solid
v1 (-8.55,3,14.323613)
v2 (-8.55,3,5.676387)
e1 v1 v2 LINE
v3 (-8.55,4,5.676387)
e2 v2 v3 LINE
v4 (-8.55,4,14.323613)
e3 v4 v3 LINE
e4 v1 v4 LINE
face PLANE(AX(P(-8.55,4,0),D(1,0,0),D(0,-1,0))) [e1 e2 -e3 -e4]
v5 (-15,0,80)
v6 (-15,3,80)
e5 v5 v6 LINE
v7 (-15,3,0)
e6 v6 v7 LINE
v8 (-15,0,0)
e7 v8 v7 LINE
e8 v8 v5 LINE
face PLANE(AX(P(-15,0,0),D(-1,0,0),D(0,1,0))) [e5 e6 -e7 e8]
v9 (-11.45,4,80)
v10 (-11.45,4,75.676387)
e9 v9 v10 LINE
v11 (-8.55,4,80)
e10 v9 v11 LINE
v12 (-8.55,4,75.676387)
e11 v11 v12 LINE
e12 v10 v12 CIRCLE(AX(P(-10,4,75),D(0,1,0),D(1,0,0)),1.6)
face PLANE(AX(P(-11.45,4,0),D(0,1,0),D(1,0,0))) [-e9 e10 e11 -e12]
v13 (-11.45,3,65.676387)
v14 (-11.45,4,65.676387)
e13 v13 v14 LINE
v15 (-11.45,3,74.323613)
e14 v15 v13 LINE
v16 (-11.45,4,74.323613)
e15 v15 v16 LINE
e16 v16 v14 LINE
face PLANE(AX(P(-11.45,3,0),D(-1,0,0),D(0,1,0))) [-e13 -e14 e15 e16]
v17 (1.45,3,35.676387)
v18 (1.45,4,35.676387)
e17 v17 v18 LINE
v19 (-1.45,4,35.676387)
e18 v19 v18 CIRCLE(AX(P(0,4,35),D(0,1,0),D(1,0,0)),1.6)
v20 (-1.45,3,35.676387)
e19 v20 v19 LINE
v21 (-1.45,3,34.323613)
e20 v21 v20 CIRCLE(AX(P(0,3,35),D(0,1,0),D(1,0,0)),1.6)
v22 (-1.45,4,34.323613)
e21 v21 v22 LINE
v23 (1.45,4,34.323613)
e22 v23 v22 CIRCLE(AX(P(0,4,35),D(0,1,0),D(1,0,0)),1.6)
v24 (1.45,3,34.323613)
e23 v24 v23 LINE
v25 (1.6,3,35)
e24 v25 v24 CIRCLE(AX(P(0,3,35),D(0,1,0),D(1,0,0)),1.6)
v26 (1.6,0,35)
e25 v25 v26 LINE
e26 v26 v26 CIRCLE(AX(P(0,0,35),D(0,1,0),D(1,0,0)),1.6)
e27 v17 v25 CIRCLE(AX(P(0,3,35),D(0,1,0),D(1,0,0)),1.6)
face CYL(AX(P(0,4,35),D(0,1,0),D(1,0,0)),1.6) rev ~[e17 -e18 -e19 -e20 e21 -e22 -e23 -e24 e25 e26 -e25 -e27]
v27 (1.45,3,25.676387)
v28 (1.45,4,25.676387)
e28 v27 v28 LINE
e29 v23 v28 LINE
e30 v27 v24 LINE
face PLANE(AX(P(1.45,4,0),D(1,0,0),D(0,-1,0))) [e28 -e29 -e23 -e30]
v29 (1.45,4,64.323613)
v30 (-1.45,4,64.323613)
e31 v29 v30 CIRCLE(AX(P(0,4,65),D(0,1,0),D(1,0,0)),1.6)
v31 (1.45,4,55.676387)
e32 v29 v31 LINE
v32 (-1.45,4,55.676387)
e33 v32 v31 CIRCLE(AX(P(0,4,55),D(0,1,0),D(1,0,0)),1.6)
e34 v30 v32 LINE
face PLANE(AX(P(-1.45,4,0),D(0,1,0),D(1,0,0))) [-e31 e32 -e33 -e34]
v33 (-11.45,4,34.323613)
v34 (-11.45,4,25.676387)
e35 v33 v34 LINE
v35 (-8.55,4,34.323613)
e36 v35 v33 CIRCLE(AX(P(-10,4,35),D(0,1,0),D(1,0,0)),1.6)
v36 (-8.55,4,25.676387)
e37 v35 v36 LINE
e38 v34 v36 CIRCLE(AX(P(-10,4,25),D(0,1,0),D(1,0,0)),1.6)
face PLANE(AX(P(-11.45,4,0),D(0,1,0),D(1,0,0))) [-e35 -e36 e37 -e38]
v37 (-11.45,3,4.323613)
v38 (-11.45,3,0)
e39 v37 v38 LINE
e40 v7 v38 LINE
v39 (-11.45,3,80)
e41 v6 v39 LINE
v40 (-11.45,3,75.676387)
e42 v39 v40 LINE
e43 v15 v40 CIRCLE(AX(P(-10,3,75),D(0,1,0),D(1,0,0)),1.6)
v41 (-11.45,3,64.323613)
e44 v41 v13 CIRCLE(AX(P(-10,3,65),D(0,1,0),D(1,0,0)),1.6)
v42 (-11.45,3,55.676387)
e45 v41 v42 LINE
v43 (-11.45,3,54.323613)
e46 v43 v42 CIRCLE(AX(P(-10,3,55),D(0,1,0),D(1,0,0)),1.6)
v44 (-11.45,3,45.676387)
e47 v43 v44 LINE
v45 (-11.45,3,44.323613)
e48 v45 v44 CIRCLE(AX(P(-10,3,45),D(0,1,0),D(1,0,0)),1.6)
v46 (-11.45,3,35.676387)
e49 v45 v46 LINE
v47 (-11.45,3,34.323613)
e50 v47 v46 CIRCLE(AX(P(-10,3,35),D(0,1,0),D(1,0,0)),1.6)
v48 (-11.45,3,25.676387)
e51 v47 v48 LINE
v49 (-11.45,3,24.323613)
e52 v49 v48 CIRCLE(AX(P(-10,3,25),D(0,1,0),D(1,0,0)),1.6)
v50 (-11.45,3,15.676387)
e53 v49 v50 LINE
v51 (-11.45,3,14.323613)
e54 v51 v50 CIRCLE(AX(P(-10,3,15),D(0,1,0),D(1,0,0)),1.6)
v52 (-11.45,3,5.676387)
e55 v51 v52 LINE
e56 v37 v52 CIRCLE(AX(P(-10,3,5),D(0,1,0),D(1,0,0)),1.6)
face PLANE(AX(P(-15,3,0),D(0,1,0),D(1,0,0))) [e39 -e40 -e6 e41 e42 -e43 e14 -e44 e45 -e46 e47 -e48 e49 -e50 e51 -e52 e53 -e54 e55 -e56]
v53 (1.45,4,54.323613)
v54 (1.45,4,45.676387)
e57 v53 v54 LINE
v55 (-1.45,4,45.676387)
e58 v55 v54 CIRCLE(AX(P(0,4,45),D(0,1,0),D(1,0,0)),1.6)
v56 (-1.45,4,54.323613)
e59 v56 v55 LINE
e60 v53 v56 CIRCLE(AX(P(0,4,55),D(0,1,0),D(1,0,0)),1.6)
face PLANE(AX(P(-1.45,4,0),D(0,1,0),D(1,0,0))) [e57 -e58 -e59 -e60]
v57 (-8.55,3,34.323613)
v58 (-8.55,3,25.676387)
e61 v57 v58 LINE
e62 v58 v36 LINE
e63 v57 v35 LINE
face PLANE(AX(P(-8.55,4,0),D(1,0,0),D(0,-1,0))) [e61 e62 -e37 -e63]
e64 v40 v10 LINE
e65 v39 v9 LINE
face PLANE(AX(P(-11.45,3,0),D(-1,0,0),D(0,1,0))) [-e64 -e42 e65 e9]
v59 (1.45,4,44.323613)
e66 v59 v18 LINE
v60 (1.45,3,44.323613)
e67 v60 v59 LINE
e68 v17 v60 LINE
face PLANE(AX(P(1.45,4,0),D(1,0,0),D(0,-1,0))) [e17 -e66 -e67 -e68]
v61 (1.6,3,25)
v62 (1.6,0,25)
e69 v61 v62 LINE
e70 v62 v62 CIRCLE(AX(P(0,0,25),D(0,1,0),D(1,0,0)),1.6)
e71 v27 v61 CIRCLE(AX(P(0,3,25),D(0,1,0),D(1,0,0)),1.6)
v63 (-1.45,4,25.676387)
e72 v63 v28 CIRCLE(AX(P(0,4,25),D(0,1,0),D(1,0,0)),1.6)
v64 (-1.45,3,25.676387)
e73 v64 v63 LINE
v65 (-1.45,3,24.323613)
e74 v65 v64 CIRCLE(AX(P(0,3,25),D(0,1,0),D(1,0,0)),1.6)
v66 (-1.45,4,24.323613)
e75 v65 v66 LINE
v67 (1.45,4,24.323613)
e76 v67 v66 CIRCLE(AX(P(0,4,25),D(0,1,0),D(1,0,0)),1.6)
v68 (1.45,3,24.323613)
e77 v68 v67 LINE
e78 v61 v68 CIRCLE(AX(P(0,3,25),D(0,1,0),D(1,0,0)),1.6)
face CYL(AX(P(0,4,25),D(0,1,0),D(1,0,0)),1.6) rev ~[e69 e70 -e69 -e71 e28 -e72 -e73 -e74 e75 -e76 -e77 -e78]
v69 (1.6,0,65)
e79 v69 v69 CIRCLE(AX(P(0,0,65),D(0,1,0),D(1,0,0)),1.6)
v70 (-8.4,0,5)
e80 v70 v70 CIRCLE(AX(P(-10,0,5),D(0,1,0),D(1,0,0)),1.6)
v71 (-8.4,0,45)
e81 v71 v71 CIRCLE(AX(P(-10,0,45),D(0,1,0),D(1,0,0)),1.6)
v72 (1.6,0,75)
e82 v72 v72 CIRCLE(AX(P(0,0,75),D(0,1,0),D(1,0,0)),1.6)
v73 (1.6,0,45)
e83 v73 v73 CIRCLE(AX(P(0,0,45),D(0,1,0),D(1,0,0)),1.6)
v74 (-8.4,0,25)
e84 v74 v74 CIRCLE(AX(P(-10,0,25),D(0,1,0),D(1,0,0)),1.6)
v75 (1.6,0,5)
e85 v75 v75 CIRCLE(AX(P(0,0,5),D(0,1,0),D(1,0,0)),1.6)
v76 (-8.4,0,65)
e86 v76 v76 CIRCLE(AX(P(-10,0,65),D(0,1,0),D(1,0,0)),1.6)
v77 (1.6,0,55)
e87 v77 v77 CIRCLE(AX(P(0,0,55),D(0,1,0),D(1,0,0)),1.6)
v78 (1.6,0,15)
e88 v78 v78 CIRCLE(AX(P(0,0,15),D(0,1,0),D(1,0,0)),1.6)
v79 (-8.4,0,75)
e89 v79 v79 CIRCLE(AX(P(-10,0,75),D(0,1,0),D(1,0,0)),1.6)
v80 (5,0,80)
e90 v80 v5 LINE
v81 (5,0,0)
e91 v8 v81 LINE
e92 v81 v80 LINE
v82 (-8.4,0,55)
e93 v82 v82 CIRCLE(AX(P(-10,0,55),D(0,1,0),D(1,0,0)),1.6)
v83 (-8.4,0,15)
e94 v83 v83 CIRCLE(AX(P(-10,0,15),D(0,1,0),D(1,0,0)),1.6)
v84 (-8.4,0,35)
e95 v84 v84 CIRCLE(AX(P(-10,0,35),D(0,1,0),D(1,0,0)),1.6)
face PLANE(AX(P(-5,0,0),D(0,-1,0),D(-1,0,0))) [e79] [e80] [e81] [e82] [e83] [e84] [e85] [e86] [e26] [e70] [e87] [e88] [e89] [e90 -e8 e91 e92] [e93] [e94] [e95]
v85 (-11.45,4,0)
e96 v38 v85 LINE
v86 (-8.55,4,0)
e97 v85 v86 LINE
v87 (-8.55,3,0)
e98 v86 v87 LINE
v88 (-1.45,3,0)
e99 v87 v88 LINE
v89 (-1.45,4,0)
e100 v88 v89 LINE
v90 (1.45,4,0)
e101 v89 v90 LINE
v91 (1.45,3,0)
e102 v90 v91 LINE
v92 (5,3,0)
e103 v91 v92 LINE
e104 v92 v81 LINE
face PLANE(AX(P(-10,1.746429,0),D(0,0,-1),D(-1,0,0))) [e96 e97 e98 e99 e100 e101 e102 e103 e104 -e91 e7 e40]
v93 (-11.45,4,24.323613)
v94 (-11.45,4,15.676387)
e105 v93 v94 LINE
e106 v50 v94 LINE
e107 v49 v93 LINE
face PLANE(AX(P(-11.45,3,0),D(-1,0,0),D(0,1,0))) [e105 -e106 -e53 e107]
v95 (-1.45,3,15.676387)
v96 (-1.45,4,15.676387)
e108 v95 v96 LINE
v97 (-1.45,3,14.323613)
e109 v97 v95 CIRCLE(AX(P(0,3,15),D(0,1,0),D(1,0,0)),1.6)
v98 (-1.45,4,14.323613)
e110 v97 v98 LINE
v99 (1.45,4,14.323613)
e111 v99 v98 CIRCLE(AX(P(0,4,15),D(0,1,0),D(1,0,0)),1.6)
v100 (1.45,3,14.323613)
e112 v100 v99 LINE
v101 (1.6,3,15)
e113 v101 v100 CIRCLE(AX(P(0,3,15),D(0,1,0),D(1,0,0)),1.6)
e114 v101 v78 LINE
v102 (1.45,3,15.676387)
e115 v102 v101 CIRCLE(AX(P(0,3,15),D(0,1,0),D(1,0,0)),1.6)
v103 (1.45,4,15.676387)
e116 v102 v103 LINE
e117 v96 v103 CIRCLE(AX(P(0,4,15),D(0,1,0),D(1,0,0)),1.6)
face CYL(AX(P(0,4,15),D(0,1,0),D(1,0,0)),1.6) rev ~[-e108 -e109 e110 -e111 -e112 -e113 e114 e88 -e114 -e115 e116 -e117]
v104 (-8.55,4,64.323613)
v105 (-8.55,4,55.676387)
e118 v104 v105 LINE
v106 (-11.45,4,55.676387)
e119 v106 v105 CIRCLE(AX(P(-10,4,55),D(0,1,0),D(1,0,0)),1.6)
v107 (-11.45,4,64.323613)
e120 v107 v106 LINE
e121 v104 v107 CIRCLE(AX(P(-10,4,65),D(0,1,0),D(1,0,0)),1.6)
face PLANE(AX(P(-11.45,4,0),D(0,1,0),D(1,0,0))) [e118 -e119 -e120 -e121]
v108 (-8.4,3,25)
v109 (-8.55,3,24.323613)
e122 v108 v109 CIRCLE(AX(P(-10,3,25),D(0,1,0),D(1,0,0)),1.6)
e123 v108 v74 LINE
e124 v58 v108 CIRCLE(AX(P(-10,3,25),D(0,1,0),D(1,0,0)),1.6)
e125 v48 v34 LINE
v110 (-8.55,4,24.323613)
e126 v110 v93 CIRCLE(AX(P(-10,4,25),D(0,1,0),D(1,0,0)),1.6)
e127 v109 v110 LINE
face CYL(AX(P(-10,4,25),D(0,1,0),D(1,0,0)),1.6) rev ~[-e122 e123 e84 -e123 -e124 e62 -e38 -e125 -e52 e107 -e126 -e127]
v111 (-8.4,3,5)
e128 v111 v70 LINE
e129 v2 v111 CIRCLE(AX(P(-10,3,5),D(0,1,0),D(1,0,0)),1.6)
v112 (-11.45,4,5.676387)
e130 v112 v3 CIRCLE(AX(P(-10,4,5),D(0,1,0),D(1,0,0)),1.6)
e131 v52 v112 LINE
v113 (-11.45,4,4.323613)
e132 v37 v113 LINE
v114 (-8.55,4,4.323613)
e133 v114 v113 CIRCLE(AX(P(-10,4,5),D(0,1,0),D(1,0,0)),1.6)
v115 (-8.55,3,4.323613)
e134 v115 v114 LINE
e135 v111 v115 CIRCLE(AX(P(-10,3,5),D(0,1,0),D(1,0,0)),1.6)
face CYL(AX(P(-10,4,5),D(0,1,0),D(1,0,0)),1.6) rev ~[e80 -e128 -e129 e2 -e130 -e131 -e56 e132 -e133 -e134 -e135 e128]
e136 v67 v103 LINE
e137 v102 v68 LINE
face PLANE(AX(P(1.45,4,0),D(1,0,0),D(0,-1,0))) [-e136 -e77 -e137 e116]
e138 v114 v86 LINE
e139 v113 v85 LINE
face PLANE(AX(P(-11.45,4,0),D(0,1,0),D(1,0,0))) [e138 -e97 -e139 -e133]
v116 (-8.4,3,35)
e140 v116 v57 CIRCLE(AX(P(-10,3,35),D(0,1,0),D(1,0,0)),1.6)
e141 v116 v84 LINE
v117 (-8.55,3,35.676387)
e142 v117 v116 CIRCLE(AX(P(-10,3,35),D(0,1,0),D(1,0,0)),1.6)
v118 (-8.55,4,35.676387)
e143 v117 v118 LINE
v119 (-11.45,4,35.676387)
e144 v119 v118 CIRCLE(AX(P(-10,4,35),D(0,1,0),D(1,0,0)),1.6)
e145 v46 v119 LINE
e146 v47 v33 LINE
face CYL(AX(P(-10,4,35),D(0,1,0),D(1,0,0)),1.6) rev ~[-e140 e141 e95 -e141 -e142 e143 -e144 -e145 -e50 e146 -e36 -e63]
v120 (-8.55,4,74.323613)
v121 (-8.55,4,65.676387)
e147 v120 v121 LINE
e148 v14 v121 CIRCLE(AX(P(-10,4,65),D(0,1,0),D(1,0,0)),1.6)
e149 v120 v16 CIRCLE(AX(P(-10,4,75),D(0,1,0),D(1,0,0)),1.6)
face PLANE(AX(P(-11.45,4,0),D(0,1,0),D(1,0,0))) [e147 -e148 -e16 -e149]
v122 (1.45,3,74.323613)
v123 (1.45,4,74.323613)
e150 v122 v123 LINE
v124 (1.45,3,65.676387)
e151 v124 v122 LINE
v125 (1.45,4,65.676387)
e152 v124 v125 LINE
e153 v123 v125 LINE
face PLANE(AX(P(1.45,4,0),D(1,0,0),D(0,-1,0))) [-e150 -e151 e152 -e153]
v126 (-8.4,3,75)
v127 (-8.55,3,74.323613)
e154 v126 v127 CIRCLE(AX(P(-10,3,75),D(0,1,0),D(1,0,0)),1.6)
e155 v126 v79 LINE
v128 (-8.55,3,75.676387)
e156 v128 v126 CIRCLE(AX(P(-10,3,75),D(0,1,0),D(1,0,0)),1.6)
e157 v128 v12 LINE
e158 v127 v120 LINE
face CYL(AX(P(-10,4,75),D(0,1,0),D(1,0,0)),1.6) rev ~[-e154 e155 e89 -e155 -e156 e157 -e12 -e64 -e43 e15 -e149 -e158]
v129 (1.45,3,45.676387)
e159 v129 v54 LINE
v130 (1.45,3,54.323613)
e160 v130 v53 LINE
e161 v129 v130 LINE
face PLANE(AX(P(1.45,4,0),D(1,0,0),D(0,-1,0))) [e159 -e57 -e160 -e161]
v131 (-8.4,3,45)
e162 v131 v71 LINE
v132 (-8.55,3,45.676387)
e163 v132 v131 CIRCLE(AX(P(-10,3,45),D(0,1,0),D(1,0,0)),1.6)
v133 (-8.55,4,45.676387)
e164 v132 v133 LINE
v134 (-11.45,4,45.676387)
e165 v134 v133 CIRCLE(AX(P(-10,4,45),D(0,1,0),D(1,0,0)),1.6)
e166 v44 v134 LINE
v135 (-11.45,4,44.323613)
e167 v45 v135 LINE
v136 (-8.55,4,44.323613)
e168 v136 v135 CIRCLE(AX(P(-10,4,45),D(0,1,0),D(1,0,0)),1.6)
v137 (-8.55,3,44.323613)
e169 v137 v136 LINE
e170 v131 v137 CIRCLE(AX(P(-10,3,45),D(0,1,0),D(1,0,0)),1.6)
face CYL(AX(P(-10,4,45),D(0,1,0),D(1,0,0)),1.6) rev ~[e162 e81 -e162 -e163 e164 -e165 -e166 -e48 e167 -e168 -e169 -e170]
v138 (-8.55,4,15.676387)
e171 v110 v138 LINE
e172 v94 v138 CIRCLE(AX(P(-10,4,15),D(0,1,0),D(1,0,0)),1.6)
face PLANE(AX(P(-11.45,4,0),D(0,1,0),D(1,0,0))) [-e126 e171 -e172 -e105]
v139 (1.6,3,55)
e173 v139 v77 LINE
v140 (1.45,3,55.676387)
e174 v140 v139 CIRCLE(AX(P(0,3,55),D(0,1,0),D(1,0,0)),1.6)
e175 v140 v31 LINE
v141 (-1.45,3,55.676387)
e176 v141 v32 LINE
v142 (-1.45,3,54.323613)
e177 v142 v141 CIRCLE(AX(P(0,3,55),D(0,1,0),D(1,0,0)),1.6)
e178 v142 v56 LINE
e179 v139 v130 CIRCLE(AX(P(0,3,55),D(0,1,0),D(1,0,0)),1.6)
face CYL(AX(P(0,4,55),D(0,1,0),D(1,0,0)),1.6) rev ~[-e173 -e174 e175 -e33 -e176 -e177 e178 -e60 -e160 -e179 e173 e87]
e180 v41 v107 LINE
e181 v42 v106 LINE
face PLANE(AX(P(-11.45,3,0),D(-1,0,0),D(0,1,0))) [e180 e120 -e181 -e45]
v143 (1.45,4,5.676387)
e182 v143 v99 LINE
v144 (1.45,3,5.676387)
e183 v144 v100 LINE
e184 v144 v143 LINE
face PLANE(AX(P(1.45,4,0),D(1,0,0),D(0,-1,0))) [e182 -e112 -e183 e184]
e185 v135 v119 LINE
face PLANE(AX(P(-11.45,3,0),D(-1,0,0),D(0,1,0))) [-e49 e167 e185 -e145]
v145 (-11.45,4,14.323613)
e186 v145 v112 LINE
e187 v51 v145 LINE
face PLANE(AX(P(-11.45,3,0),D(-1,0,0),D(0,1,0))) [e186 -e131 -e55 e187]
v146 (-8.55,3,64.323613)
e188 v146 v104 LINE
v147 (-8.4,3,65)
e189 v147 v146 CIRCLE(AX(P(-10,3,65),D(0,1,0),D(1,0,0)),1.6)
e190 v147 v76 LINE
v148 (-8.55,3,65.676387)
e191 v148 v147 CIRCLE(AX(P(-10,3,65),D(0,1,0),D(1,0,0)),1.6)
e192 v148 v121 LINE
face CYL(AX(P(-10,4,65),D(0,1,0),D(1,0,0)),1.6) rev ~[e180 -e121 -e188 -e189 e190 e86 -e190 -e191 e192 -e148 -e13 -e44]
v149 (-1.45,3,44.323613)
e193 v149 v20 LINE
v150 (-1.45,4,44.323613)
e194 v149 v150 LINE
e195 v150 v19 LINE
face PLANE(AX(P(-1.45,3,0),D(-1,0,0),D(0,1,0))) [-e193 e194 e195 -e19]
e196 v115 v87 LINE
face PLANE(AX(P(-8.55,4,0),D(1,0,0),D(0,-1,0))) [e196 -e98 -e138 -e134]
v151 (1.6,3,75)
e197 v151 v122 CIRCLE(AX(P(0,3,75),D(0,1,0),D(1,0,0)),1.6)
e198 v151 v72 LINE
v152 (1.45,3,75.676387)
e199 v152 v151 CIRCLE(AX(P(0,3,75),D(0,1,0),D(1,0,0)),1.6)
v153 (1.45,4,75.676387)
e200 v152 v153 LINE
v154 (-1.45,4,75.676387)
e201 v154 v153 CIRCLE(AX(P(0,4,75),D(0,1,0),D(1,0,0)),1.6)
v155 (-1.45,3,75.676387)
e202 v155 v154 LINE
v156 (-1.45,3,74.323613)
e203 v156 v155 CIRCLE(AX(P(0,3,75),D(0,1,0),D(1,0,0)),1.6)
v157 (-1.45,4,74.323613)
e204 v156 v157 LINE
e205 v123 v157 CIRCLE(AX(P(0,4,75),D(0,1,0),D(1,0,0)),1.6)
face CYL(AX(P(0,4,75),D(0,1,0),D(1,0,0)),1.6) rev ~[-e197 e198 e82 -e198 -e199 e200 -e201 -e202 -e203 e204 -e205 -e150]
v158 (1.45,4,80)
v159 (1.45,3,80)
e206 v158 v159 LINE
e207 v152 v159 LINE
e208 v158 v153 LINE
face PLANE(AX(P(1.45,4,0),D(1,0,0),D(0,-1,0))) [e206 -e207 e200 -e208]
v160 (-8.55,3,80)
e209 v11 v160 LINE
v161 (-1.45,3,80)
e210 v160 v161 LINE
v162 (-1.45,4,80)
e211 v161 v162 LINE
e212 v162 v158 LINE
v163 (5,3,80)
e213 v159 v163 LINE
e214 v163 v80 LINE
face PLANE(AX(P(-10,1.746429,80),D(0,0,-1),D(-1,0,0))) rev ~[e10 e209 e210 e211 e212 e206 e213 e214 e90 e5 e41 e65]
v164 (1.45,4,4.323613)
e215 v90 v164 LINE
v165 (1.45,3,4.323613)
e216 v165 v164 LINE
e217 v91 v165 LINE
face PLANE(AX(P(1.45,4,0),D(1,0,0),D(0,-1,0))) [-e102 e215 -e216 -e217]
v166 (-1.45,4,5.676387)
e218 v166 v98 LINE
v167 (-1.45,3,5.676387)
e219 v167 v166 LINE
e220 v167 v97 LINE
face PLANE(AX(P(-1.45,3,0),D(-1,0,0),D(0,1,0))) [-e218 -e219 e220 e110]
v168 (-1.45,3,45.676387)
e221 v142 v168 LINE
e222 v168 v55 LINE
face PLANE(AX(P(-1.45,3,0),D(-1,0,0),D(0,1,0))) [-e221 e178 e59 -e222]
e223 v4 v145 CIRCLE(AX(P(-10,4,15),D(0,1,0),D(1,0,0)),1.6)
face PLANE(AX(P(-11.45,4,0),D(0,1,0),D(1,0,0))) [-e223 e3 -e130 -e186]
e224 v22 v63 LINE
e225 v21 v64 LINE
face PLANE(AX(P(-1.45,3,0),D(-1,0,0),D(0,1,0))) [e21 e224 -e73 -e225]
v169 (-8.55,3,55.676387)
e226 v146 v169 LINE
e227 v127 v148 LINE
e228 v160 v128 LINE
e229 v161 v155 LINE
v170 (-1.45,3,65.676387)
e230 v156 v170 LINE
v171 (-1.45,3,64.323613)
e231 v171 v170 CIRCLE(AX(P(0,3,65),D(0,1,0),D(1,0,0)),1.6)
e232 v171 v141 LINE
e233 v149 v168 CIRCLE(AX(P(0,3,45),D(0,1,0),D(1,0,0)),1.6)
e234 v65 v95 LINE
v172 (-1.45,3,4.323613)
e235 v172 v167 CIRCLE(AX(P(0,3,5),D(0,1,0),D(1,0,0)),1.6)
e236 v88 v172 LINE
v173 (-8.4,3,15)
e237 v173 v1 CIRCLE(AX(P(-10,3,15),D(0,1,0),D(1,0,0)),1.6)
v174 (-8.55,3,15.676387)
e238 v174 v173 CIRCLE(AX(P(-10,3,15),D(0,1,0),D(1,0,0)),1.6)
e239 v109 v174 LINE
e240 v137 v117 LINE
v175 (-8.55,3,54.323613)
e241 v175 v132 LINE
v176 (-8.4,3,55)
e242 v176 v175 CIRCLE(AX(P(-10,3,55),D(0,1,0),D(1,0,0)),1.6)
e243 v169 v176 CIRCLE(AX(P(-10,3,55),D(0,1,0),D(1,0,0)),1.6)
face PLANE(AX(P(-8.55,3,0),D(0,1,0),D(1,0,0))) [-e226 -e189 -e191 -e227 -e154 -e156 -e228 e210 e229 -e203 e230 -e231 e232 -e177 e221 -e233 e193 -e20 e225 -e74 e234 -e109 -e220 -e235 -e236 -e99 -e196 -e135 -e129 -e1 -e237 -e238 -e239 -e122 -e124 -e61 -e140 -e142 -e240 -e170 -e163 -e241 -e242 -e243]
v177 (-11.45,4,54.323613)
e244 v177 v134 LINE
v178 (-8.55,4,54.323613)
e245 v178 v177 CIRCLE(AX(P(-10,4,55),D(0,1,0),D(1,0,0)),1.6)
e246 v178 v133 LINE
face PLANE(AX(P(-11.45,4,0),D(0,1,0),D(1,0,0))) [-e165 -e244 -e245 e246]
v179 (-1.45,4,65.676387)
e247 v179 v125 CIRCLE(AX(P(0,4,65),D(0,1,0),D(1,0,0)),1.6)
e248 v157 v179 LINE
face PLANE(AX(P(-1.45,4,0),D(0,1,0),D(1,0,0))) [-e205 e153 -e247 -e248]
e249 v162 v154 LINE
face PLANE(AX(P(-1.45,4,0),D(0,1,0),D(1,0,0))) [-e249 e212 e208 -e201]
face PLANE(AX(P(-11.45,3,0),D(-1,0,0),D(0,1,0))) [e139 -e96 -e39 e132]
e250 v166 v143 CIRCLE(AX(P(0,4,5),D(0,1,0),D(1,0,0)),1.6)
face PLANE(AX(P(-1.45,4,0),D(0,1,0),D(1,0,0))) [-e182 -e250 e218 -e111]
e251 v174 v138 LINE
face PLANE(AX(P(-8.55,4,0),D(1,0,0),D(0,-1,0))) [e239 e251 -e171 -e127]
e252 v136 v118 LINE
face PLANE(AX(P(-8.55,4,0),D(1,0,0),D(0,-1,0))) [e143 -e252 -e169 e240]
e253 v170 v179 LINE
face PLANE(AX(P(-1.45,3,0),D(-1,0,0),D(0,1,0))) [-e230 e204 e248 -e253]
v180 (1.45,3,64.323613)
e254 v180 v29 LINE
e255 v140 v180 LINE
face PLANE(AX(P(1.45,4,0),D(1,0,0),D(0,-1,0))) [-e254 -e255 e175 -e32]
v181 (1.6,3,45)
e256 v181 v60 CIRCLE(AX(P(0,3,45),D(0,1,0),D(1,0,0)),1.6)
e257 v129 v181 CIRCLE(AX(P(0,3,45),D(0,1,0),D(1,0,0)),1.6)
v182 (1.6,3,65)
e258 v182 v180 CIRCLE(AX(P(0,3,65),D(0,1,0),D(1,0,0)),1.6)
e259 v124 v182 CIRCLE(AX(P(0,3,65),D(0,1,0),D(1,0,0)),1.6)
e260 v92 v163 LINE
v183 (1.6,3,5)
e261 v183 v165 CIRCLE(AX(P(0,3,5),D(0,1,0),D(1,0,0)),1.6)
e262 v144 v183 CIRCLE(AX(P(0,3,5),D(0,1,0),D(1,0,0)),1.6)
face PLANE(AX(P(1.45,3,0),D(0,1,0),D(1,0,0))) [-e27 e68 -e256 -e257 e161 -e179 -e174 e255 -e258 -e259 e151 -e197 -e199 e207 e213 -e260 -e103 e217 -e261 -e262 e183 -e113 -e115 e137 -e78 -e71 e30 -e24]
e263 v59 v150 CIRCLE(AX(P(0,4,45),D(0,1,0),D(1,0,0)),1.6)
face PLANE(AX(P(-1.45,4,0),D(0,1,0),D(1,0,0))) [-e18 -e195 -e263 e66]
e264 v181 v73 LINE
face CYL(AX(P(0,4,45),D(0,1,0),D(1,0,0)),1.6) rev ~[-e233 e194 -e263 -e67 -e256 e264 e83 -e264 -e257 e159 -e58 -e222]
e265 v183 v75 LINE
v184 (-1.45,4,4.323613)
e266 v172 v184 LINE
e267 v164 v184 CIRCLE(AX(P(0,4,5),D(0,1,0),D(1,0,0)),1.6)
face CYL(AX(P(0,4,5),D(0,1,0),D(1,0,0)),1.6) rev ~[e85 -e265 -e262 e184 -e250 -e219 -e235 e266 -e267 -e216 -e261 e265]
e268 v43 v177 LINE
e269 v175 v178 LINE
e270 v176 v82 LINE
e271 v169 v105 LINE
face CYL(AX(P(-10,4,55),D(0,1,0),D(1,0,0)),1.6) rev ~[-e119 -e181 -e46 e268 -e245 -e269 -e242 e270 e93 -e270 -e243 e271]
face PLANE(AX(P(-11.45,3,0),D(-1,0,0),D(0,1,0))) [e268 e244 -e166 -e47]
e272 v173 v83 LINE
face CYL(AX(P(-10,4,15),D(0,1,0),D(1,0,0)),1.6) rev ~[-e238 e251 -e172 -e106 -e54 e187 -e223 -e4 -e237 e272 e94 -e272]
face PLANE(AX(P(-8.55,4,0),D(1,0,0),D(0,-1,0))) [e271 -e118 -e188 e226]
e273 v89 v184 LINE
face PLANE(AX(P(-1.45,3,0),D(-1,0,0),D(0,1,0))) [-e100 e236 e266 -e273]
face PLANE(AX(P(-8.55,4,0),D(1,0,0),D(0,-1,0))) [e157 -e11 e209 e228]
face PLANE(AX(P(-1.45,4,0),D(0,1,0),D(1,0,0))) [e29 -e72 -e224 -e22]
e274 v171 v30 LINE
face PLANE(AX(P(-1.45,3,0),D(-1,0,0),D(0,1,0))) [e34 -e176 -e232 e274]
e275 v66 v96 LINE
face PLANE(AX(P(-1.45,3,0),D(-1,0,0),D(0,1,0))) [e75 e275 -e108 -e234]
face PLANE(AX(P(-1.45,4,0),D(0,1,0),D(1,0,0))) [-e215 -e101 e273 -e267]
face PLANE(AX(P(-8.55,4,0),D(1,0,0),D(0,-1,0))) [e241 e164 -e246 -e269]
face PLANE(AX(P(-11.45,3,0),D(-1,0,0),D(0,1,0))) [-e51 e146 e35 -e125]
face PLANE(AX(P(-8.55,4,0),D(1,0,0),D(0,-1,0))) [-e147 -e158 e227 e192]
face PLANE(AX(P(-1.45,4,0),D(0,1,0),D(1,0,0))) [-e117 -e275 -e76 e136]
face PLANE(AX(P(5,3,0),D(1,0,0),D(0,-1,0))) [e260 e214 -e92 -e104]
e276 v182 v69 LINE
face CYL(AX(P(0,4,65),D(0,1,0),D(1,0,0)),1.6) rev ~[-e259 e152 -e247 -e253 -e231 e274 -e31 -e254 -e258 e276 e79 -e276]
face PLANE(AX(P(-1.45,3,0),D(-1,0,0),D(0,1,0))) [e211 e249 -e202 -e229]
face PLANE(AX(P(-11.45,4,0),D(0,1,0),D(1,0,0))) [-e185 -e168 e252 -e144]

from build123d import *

# Parameters (mm, degrees)
MAIN_DEPTH                      = 20
ESQUISSE2_R                     = 1.6
TOPHOLE_DEPTH                   = 5
R_P_TITION_LIN_AIRE1_COUNT      = 4
R_P_TITION_LIN_AIRE1_PITCH      = 20
R_P_TITION_LIN_AIRE1_COUNT_DIR2 = 2
R_P_TITION_LIN_AIRE1_PITCH_DIR2 = 10


with BuildPart() as part:
    # Esquisse1 → Main (new body)
    with BuildSketch(Plane.XY):
        Polygon((-5, 0), (-5, 3), (-1.45, 3), (-1.45, 4), (1.45, 4), (1.45, 3), (5, 3), (5, 0), align=None)
    main = extrude(amount=MAIN_DEPTH)

    # Esquisse2 → TopHole (cut, through all)
    with BuildSketch(Plane(origin=(0, 4, 0), x_dir=(1, 0, 0), z_dir=(0, 1, 0))):
        with Locations((0, -5)):
            Circle(ESQUISSE2_R)
        with Locations((0, -15)):
            Circle(ESQUISSE2_R)
    tophole = extrude(amount=-TOPHOLE_DEPTH, mode=Mode.SUBTRACT)

    # Répétition linéaire1: Main, TopHole 4 × 2
    with Locations(*[(-j * R_P_TITION_LIN_AIRE1_PITCH_DIR2, 0, i * R_P_TITION_LIN_AIRE1_PITCH) for i in range(R_P_TITION_LIN_AIRE1_COUNT) for j in range(R_P_TITION_LIN_AIRE1_COUNT_DIR2) if (i, j) != (0, 0)]):
        add(main)
        add(tophole, mode=Mode.SUBTRACT)


solid = part.part
